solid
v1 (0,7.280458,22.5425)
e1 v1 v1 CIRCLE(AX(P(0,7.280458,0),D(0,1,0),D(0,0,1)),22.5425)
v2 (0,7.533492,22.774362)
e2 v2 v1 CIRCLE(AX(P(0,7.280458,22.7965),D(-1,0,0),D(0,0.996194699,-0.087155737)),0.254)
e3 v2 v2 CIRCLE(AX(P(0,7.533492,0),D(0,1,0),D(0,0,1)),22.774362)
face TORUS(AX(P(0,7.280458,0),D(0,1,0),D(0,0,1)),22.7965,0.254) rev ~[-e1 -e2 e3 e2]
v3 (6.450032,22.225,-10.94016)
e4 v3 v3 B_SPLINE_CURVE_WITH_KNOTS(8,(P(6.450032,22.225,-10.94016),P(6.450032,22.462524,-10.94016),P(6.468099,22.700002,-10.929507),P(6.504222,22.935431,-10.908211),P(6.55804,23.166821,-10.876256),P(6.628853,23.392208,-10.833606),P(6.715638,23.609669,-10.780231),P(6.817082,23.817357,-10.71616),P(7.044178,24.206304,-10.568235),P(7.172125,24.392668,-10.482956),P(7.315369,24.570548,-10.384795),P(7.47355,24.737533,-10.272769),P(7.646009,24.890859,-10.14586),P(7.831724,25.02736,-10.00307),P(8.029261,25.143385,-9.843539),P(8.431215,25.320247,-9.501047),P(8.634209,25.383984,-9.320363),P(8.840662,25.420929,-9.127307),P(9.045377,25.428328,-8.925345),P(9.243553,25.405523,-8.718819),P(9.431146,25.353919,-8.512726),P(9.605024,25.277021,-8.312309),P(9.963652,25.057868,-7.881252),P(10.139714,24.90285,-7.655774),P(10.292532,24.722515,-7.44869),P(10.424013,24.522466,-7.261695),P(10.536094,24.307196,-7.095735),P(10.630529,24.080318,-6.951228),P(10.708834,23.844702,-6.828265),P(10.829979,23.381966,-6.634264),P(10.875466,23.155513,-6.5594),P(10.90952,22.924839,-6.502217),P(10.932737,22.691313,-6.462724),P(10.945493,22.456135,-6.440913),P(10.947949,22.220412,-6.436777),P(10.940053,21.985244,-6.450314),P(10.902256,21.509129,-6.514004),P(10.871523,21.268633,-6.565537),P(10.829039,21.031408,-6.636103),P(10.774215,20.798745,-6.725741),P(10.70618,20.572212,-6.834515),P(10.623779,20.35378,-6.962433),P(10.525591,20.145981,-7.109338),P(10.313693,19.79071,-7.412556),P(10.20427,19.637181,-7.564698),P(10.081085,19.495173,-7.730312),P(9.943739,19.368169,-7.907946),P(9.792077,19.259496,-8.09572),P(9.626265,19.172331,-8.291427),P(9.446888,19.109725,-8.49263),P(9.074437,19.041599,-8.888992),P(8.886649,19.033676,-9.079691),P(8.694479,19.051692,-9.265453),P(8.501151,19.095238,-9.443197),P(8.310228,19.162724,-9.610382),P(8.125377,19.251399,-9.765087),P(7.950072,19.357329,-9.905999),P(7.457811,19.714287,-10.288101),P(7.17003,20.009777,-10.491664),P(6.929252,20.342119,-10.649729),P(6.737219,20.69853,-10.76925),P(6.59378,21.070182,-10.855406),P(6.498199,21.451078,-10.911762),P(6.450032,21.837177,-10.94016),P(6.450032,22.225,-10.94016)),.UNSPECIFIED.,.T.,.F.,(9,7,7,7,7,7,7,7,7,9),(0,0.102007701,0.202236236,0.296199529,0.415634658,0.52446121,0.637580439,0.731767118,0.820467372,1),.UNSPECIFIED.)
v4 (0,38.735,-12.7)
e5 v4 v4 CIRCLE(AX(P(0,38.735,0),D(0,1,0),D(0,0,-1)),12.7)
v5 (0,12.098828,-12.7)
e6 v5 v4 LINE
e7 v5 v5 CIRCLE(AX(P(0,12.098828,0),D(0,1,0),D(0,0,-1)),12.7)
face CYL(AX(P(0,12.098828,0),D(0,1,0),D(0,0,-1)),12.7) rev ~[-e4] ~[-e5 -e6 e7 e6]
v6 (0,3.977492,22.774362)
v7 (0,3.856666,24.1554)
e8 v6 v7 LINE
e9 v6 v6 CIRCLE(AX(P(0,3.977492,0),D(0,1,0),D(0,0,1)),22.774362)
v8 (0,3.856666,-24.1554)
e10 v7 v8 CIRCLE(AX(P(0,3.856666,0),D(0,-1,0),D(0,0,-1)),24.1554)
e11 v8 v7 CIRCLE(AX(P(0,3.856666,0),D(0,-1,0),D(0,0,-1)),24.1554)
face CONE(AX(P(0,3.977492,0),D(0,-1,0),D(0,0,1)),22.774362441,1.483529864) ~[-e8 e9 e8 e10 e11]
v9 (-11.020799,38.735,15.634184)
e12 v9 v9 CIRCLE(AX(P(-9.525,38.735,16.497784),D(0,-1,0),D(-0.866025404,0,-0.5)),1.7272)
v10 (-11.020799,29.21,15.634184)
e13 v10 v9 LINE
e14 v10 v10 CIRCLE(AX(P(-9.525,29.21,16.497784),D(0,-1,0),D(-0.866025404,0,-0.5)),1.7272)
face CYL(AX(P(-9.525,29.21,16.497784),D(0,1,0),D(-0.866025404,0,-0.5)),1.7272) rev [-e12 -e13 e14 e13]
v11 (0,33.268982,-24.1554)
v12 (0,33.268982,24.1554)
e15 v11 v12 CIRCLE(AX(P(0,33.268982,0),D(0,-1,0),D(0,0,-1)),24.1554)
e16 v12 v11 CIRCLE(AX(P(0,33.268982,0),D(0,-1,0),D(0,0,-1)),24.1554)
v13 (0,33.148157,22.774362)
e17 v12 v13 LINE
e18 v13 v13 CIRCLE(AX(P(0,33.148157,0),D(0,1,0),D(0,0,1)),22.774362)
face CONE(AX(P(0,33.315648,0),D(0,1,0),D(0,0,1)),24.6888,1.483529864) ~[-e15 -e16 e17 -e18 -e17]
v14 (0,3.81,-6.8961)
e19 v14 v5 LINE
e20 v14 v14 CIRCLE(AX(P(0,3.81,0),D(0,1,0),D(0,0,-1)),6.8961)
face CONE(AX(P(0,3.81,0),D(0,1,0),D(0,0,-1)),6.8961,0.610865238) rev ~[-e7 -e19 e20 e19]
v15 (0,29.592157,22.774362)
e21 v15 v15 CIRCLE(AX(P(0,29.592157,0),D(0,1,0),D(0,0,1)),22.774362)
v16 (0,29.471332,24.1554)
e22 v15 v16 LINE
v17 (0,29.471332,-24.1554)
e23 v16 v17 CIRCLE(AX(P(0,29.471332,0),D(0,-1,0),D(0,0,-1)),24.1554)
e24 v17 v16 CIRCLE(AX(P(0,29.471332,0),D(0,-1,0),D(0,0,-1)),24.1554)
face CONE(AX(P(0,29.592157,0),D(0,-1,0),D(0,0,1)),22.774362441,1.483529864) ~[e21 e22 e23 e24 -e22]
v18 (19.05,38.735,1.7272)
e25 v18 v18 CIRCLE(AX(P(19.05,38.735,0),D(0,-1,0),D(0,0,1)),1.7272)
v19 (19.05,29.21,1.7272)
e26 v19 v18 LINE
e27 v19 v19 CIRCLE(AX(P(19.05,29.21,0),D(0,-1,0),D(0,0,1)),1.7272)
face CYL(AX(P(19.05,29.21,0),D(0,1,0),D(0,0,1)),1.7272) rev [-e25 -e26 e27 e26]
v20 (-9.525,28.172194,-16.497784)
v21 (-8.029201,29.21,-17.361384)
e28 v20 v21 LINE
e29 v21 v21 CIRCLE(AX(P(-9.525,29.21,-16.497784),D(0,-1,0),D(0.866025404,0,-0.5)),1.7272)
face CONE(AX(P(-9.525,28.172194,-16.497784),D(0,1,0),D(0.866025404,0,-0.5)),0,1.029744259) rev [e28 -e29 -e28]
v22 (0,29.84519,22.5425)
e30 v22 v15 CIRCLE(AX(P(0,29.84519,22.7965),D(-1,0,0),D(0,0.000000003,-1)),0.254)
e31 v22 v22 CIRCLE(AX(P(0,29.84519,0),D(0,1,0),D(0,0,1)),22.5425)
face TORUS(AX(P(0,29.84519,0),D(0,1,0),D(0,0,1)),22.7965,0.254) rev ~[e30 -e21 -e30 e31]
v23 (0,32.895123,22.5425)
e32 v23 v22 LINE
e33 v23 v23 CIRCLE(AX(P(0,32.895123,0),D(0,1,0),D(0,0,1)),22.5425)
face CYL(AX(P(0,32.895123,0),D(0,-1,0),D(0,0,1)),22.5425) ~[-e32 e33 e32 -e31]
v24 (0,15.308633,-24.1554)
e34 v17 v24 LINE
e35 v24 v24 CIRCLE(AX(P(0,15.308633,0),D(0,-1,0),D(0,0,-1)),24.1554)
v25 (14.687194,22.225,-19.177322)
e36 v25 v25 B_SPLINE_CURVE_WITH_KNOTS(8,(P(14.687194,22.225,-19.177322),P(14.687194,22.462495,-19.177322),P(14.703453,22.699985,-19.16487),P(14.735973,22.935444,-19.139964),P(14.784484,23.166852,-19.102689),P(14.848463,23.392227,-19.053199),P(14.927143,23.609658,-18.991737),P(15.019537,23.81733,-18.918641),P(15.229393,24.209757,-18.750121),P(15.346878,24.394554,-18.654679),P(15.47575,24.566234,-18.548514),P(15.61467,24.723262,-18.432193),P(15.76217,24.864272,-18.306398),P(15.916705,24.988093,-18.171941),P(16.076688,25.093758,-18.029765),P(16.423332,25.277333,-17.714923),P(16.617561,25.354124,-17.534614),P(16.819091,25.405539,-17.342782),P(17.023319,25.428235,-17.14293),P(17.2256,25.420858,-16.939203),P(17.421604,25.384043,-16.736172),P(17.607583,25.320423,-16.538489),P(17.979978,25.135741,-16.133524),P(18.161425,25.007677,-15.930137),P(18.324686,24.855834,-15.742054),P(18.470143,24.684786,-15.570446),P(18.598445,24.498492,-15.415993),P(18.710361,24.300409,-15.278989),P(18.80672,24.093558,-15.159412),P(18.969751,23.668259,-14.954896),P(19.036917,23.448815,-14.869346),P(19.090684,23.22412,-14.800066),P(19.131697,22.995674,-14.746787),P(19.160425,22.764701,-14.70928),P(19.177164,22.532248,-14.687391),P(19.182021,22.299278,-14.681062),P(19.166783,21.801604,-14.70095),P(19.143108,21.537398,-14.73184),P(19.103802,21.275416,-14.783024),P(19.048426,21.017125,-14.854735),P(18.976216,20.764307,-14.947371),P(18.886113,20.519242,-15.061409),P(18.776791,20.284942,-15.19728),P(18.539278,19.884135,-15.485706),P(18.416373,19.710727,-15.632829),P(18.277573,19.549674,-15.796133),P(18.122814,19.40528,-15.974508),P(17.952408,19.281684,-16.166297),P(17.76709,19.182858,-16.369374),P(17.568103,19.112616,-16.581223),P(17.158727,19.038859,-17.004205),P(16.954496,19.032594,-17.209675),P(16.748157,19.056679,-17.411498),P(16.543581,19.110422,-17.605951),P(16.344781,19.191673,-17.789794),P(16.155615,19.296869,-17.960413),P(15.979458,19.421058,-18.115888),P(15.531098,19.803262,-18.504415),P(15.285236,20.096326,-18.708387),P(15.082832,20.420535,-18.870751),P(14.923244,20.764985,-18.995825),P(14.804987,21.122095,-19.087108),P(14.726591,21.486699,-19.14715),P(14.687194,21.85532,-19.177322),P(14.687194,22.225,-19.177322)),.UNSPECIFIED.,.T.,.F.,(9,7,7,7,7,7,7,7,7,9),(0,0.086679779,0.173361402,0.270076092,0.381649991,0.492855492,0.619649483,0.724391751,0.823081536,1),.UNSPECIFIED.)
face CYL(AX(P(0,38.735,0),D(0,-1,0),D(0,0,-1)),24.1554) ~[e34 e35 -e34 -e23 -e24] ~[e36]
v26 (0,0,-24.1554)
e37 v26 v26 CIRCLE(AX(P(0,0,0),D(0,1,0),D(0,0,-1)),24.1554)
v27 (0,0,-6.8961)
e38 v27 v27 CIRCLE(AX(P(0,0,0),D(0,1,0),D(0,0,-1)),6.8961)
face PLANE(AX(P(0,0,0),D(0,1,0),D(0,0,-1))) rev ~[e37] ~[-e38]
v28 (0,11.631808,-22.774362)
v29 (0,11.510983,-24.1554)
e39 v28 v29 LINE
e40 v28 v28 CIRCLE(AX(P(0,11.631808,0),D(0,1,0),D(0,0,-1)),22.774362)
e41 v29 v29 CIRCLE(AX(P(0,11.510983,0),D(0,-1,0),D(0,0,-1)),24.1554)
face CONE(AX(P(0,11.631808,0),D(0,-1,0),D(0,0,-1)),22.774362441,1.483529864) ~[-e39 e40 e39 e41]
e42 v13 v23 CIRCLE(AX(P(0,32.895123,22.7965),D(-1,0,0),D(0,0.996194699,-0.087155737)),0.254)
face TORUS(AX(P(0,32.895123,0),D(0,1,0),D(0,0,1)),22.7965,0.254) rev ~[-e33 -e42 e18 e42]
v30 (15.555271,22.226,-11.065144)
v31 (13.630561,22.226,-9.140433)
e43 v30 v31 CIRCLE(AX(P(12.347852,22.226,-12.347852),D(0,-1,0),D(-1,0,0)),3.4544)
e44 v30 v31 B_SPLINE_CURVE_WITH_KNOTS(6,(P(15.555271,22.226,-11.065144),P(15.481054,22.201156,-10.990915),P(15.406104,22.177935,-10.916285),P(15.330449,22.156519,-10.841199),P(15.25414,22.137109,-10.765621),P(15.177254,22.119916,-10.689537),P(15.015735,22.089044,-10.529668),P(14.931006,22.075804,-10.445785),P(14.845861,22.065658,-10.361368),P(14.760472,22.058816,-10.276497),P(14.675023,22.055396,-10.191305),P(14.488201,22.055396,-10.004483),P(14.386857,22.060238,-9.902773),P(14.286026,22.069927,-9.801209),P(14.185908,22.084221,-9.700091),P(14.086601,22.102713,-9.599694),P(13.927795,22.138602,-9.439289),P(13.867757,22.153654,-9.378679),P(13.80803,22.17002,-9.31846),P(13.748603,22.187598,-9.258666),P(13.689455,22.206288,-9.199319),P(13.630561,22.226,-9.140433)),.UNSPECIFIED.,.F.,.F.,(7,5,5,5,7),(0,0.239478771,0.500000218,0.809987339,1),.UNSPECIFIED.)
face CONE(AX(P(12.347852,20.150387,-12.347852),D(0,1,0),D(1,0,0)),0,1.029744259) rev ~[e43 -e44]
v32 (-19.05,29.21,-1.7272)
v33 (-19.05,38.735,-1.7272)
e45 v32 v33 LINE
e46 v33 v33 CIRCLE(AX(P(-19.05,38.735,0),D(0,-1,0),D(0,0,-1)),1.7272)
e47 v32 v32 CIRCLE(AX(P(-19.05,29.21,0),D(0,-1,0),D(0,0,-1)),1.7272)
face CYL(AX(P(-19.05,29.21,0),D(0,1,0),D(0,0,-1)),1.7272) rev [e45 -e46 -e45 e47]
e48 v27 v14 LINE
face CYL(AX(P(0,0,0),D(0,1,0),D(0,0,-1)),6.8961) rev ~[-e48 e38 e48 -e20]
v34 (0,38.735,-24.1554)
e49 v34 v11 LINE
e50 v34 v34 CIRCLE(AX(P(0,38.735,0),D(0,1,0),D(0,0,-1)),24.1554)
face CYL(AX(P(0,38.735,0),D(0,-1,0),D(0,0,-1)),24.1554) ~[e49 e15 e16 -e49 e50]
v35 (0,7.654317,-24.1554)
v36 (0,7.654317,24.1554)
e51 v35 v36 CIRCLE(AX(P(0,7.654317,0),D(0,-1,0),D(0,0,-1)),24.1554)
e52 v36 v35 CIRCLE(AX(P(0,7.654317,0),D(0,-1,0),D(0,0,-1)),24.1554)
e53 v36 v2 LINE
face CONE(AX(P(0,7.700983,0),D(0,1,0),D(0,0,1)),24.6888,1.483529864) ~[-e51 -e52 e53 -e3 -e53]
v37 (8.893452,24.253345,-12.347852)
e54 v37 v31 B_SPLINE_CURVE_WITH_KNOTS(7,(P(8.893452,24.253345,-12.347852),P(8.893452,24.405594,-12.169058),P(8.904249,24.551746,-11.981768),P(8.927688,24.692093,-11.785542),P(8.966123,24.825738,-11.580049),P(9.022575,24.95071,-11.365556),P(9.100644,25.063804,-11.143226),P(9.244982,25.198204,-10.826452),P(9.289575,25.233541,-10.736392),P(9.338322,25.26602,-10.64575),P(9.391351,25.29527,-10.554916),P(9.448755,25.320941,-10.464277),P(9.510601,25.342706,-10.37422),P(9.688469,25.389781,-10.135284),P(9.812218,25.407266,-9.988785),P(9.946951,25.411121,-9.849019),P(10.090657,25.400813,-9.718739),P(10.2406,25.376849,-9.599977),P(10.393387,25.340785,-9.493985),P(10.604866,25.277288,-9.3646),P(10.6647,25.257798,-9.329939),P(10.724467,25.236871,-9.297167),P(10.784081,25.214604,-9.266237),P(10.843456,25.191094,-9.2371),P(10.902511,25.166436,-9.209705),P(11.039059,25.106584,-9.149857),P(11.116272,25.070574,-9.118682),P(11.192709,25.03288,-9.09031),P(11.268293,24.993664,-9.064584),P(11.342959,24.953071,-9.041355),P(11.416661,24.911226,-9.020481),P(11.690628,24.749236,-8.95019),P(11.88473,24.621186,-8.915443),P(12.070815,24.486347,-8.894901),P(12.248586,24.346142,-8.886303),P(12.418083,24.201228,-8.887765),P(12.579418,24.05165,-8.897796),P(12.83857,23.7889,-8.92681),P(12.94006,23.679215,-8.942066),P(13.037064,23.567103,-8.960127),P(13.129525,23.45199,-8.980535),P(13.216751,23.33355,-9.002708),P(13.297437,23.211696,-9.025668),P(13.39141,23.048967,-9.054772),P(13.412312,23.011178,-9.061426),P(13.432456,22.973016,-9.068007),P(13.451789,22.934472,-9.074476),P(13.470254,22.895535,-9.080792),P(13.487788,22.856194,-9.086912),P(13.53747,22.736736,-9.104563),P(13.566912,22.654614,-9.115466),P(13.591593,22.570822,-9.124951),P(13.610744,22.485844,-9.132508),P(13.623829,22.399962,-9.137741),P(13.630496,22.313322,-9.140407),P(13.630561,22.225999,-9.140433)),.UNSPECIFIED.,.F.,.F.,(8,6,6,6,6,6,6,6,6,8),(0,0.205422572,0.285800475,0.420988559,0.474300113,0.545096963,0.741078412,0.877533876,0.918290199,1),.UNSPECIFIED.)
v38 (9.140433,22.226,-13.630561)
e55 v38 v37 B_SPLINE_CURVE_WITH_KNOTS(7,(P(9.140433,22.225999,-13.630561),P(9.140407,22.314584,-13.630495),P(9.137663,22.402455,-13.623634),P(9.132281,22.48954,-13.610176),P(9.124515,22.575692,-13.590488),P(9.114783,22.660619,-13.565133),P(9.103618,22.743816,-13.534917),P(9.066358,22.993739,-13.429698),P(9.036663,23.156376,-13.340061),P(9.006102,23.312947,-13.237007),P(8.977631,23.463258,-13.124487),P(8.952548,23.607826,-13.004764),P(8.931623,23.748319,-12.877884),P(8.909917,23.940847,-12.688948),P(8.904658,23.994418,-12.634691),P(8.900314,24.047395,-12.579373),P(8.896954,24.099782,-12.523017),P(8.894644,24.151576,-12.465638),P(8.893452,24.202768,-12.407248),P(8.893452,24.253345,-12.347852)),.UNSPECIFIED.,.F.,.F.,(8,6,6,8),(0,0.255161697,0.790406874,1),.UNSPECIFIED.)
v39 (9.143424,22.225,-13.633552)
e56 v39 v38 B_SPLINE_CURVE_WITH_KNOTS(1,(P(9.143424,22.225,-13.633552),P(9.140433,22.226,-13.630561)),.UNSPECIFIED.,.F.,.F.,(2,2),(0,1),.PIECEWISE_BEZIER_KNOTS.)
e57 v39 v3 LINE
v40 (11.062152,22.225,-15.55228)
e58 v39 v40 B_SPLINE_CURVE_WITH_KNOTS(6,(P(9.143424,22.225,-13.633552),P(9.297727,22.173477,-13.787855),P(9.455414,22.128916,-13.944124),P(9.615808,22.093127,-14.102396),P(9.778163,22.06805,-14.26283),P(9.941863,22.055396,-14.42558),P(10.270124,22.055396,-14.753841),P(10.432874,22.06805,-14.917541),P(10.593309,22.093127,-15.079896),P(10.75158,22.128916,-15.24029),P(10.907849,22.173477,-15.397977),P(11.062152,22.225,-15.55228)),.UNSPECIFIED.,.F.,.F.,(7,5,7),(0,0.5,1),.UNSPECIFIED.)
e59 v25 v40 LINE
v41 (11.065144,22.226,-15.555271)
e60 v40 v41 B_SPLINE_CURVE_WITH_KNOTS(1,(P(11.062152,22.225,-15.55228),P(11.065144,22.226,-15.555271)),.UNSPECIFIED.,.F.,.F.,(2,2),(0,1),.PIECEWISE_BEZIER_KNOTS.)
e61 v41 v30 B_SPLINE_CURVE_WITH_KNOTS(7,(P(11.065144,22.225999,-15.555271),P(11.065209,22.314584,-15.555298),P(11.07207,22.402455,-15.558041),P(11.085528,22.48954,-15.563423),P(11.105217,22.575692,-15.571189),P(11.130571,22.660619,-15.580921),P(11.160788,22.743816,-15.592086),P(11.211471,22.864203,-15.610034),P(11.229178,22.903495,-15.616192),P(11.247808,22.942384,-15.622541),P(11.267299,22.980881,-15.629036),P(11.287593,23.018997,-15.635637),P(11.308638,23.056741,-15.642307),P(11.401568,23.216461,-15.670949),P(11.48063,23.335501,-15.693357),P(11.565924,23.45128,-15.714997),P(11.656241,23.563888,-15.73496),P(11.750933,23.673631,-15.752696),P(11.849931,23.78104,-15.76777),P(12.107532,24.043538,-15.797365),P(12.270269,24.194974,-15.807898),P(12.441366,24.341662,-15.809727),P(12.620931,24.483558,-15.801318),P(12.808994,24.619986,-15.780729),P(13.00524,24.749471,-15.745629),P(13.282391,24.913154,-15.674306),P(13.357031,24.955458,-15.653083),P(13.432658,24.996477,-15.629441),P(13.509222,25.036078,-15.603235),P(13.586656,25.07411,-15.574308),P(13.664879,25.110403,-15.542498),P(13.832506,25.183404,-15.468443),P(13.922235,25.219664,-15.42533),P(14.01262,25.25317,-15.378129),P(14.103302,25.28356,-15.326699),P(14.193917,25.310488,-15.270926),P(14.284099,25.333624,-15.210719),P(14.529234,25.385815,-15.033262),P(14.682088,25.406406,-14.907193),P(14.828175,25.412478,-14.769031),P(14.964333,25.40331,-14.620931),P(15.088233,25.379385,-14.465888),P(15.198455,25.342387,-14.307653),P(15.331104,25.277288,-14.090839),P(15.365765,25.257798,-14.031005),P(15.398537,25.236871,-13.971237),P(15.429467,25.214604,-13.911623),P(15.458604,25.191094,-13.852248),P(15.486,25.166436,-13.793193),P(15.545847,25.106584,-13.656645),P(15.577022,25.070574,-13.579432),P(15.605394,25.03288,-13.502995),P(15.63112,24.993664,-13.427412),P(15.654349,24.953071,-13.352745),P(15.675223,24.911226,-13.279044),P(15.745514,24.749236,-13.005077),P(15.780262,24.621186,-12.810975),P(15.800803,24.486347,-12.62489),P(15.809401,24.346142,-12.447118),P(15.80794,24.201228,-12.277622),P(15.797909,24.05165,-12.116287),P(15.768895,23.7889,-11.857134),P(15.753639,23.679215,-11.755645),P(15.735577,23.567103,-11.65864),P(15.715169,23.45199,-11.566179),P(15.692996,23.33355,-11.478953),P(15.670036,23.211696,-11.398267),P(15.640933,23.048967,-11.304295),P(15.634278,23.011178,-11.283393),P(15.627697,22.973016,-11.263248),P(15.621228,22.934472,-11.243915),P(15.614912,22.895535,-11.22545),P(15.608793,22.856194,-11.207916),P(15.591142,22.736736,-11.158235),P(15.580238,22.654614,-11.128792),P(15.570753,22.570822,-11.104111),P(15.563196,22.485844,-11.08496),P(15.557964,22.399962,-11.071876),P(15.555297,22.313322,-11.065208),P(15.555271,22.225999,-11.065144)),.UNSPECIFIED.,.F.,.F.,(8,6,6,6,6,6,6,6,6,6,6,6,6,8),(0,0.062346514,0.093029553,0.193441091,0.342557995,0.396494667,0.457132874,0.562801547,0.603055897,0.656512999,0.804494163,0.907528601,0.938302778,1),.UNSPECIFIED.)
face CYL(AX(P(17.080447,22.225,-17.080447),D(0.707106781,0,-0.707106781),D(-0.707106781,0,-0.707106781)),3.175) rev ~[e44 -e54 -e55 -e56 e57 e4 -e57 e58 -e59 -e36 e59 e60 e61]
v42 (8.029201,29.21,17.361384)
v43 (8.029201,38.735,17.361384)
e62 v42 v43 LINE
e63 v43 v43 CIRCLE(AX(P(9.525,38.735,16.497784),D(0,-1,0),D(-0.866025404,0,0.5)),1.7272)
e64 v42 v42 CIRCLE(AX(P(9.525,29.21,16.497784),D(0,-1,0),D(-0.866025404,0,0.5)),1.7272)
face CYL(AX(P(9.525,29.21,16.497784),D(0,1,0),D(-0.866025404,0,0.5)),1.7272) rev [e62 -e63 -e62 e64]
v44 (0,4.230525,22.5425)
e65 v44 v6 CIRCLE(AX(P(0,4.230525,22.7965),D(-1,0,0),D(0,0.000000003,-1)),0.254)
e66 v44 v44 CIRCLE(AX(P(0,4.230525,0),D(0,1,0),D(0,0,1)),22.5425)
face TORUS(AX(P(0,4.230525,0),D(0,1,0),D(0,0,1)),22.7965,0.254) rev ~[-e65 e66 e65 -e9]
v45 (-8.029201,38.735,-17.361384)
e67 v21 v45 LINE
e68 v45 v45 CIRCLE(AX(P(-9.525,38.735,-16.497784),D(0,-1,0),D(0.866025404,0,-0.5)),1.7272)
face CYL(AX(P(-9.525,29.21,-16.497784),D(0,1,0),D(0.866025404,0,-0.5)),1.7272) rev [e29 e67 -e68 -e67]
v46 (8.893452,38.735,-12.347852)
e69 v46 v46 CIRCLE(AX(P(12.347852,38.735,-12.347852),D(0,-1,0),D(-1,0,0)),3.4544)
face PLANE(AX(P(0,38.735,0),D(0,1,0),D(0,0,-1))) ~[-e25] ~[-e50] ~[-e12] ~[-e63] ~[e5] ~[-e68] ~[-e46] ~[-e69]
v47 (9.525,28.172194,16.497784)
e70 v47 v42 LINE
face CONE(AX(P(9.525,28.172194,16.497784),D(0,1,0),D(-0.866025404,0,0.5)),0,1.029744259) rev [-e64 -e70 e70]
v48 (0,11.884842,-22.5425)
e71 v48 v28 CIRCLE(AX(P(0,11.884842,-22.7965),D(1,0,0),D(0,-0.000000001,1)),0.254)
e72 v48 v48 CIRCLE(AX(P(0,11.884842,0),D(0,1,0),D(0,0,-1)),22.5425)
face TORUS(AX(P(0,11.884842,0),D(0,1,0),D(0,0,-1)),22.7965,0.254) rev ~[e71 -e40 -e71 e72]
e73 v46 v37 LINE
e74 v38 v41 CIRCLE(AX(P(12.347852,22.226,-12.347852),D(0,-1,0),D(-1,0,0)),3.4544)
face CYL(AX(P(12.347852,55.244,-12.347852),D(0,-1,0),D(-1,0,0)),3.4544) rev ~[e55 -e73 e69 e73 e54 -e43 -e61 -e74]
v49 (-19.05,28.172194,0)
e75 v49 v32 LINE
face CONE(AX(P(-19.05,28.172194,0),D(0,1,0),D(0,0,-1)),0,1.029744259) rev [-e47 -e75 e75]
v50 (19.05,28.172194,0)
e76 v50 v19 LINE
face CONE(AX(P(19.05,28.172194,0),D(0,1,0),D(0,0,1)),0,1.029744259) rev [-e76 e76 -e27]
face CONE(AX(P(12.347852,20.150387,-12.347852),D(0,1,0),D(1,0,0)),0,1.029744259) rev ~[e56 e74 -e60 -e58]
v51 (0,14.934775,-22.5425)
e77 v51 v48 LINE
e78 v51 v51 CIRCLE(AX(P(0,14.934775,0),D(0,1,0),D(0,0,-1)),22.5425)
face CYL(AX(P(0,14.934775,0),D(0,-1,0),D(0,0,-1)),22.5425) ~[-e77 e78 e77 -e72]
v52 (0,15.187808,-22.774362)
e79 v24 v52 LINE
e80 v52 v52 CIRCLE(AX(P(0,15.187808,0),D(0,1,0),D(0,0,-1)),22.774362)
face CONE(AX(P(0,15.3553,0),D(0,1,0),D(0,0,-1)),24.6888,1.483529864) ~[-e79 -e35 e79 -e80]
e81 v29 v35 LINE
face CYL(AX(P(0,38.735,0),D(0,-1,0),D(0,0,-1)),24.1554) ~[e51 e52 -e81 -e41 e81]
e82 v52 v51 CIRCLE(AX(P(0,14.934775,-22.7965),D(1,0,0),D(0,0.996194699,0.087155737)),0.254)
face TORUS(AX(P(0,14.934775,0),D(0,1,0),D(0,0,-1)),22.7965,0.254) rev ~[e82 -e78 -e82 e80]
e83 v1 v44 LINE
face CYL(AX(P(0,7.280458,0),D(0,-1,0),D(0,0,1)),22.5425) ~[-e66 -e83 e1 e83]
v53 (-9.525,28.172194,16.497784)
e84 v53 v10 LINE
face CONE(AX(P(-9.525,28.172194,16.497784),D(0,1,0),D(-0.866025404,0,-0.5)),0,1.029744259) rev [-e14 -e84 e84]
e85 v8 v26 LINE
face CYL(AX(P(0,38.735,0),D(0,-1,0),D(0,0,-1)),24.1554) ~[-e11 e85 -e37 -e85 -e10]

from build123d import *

# Parameters (mm, degrees)
CIRPATTERN1_COUNT            = 6
CUT_EXTRUDE1_REACH           = 72.009
CUT_EXTRUDE1_END_RADIUS      = 12.7
SKETCH15_R                   = 3.175
F_5_16_24_TAPPED_HOLE1_D     = 6.9088
F_5_16_24_TAPPED_HOLE1_DEPTH = 16.509
F_5_16_24_TAPPED_HOLE1_TIP   = 2.075612922


with BuildPart() as part:
    # Sketch1 → Revolve1 (revolve)
    with BuildSketch(Plane.XY, mode=Mode.PRIVATE) as revolve1_sk:
        Polygon((6.8961, 0), (6.8961, 3.81), (12.7, 12.098828216), (12.7, 38.735), (24.1554, 38.735), (24.1554, 0), align=None)
    revolve(revolve1_sk.sketch.rotate(Axis((0, 0, 0), (0, 1, 0)), 90), axis=Axis((0, 0, 0), (0, 1, 0)))

    # Sketch6 → Groove for AS 568-132, O-Ring2 (revolve, cut)
    with BuildSketch(Plane(origin=(0, 0, 0), x_dir=(0, 0, -1), z_dir=(-1, 0, 0)), mode=Mode.PRIVATE) as groove_for_as_568_132_o_ring2_sk:
        with BuildLine():
            Line((22.774362441, -3.977491583), (24.6888, -3.81))
            Line((24.6888, -3.81), (24.6888, -7.700983167))
            Line((24.6888, -7.700983167), (22.774362441, -7.533491583))
            ThreePointArc((22.774362441, -7.533491583), (22.609231556, -7.452058043), (22.5425, -7.28045813))
            Line((22.5425, -7.28045813), (22.5425, -4.230525037))
            ThreePointArc((22.5425, -4.230525037), (22.609231556, -4.058925124), (22.774362441, -3.977491583))
        make_face()
    revolve(groove_for_as_568_132_o_ring2_sk.sketch.rotate(Axis((0, -50, 0), (0, 1, 0)), 180), axis=Axis((0, -50, 0), (0, 1, 0)), mode=Mode.SUBTRACT)

    # Sketch4 → Groove for AS 568-132, O-Ring1 (revolve, cut)
    with BuildSketch(Plane(origin=(0, 0, 0), x_dir=(0, 0, -1), z_dir=(-1, 0, 0))):
        with BuildLine():
            Line((22.774362441, -11.631808297), (24.6888, -11.464316714))
            Line((24.6888, -11.464316714), (24.6888, -15.355299881))
            Line((24.6888, -15.355299881), (22.774362441, -15.187808297))
            ThreePointArc((22.774362441, -15.187808297), (22.609231556, -15.106374757), (22.5425, -14.934774844))
            Line((22.5425, -14.934774844), (22.5425, -11.88484175))
            ThreePointArc((22.5425, -11.88484175), (22.609231556, -11.713241838), (22.774362441, -11.631808297))
        make_face()
    revolve(axis=Axis((0, -50, 0), (0, 1, 0)), mode=Mode.SUBTRACT)

    # Sketch9 → #8-32 Tapped Hole1 (revolve, cut)
    with BuildSketch(Plane(origin=(19.05, 38.735, 0), x_dir=(0, 0, 1), z_dir=(1, 0, 0))):
        Polygon((0, 0), (0, 10.562806461), (1.7272, 9.525), (1.7272, 0), align=None)
    f_8_32_tapped_hole1 = revolve(axis=Axis((19.05, 45.085, 0), (0, -1, 0)), mode=Mode.SUBTRACT)

    # CirPattern1: #8-32 Tapped Hole1 ×6 about axis, 1 skipped
    cirpattern1_axis = Axis((0, 0, 0), (0, -1, 0))
    add([f_8_32_tapped_hole1.rotate(cirpattern1_axis, i * 360 / CIRPATTERN1_COUNT) for i in range(1, CIRPATTERN1_COUNT) if i not in (5,)], mode=Mode.SUBTRACT)

    # Sketch11 → Groove for AS 568-132, O-Ring3 (revolve, cut)
    with BuildSketch(Plane(origin=(0, 0, 0), x_dir=(0, 0, -1), z_dir=(-1, 0, 0)), mode=Mode.PRIVATE) as groove_for_as_568_132_o_ring3_sk:
        with BuildLine():
            Line((22.774362441, -29.592156785), (24.6888, -29.424665202))
            Line((24.6888, -29.424665202), (24.6888, -33.315648369))
            Line((24.6888, -33.315648369), (22.774362441, -33.148156785))
            ThreePointArc((22.774362441, -33.148156785), (22.609231556, -33.066723245), (22.5425, -32.895123332))
            Line((22.5425, -32.895123332), (22.5425, -29.845190239))
            ThreePointArc((22.5425, -29.845190239), (22.609231556, -29.673590326), (22.774362441, -29.592156785))
        make_face()
    revolve(groove_for_as_568_132_o_ring3_sk.sketch.rotate(Axis((0, -50, 0), (0, 1, 0)), 180), axis=Axis((0, -50, 0), (0, 1, 0)), mode=Mode.SUBTRACT)

    # Cut-Extrude1: up to this cylinder (the profile starts outside it)
    cut_extrude1_end = Plane(origin=(0, 22.225, 0), z_dir=(0, -1, 0)) * Cylinder(CUT_EXTRUDE1_END_RADIUS, 170.418, mode=Mode.PRIVATE)
    # Sketch15 → Cut-Extrude1 (cut, up to the surface)
    with BuildSketch(Plane(origin=(17.080447142, 0, -17.080447142), x_dir=(0, -1, 0), z_dir=(0.7071067811865488, 0, -0.7071067811865464)), mode=Mode.PRIVATE) as cut_extrude1_sk1:
        with Locations(Location((-22.225, 0, 0), (0, 0, 90))):
            Circle(SKETCH15_R)
    cut_extrude1_tool1 = extrude(cut_extrude1_sk1.sketch, amount=-CUT_EXTRUDE1_REACH, mode=Mode.PRIVATE) - cut_extrude1_end
    add(cut_extrude1_tool1.solids().sort_by_distance((17.080447, 22.225, -17.080447))[0], mode=Mode.SUBTRACT)

    # 5/16-24 Tapped Hole1
    with Locations(Plane(origin=(0, 38.735, 0), x_dir=(1, 0, 0), z_dir=(0, 1, 0))):
        with Locations((12.347852166, 12.347852166)):
            Hole(F_5_16_24_TAPPED_HOLE1_D / 2, depth=F_5_16_24_TAPPED_HOLE1_DEPTH)
            with Locations((0, 0, -(F_5_16_24_TAPPED_HOLE1_DEPTH + F_5_16_24_TAPPED_HOLE1_TIP / 2))):  # 118° drill point
                Cone(0, F_5_16_24_TAPPED_HOLE1_D / 2, F_5_16_24_TAPPED_HOLE1_TIP, mode=Mode.SUBTRACT)


solid = part.part
